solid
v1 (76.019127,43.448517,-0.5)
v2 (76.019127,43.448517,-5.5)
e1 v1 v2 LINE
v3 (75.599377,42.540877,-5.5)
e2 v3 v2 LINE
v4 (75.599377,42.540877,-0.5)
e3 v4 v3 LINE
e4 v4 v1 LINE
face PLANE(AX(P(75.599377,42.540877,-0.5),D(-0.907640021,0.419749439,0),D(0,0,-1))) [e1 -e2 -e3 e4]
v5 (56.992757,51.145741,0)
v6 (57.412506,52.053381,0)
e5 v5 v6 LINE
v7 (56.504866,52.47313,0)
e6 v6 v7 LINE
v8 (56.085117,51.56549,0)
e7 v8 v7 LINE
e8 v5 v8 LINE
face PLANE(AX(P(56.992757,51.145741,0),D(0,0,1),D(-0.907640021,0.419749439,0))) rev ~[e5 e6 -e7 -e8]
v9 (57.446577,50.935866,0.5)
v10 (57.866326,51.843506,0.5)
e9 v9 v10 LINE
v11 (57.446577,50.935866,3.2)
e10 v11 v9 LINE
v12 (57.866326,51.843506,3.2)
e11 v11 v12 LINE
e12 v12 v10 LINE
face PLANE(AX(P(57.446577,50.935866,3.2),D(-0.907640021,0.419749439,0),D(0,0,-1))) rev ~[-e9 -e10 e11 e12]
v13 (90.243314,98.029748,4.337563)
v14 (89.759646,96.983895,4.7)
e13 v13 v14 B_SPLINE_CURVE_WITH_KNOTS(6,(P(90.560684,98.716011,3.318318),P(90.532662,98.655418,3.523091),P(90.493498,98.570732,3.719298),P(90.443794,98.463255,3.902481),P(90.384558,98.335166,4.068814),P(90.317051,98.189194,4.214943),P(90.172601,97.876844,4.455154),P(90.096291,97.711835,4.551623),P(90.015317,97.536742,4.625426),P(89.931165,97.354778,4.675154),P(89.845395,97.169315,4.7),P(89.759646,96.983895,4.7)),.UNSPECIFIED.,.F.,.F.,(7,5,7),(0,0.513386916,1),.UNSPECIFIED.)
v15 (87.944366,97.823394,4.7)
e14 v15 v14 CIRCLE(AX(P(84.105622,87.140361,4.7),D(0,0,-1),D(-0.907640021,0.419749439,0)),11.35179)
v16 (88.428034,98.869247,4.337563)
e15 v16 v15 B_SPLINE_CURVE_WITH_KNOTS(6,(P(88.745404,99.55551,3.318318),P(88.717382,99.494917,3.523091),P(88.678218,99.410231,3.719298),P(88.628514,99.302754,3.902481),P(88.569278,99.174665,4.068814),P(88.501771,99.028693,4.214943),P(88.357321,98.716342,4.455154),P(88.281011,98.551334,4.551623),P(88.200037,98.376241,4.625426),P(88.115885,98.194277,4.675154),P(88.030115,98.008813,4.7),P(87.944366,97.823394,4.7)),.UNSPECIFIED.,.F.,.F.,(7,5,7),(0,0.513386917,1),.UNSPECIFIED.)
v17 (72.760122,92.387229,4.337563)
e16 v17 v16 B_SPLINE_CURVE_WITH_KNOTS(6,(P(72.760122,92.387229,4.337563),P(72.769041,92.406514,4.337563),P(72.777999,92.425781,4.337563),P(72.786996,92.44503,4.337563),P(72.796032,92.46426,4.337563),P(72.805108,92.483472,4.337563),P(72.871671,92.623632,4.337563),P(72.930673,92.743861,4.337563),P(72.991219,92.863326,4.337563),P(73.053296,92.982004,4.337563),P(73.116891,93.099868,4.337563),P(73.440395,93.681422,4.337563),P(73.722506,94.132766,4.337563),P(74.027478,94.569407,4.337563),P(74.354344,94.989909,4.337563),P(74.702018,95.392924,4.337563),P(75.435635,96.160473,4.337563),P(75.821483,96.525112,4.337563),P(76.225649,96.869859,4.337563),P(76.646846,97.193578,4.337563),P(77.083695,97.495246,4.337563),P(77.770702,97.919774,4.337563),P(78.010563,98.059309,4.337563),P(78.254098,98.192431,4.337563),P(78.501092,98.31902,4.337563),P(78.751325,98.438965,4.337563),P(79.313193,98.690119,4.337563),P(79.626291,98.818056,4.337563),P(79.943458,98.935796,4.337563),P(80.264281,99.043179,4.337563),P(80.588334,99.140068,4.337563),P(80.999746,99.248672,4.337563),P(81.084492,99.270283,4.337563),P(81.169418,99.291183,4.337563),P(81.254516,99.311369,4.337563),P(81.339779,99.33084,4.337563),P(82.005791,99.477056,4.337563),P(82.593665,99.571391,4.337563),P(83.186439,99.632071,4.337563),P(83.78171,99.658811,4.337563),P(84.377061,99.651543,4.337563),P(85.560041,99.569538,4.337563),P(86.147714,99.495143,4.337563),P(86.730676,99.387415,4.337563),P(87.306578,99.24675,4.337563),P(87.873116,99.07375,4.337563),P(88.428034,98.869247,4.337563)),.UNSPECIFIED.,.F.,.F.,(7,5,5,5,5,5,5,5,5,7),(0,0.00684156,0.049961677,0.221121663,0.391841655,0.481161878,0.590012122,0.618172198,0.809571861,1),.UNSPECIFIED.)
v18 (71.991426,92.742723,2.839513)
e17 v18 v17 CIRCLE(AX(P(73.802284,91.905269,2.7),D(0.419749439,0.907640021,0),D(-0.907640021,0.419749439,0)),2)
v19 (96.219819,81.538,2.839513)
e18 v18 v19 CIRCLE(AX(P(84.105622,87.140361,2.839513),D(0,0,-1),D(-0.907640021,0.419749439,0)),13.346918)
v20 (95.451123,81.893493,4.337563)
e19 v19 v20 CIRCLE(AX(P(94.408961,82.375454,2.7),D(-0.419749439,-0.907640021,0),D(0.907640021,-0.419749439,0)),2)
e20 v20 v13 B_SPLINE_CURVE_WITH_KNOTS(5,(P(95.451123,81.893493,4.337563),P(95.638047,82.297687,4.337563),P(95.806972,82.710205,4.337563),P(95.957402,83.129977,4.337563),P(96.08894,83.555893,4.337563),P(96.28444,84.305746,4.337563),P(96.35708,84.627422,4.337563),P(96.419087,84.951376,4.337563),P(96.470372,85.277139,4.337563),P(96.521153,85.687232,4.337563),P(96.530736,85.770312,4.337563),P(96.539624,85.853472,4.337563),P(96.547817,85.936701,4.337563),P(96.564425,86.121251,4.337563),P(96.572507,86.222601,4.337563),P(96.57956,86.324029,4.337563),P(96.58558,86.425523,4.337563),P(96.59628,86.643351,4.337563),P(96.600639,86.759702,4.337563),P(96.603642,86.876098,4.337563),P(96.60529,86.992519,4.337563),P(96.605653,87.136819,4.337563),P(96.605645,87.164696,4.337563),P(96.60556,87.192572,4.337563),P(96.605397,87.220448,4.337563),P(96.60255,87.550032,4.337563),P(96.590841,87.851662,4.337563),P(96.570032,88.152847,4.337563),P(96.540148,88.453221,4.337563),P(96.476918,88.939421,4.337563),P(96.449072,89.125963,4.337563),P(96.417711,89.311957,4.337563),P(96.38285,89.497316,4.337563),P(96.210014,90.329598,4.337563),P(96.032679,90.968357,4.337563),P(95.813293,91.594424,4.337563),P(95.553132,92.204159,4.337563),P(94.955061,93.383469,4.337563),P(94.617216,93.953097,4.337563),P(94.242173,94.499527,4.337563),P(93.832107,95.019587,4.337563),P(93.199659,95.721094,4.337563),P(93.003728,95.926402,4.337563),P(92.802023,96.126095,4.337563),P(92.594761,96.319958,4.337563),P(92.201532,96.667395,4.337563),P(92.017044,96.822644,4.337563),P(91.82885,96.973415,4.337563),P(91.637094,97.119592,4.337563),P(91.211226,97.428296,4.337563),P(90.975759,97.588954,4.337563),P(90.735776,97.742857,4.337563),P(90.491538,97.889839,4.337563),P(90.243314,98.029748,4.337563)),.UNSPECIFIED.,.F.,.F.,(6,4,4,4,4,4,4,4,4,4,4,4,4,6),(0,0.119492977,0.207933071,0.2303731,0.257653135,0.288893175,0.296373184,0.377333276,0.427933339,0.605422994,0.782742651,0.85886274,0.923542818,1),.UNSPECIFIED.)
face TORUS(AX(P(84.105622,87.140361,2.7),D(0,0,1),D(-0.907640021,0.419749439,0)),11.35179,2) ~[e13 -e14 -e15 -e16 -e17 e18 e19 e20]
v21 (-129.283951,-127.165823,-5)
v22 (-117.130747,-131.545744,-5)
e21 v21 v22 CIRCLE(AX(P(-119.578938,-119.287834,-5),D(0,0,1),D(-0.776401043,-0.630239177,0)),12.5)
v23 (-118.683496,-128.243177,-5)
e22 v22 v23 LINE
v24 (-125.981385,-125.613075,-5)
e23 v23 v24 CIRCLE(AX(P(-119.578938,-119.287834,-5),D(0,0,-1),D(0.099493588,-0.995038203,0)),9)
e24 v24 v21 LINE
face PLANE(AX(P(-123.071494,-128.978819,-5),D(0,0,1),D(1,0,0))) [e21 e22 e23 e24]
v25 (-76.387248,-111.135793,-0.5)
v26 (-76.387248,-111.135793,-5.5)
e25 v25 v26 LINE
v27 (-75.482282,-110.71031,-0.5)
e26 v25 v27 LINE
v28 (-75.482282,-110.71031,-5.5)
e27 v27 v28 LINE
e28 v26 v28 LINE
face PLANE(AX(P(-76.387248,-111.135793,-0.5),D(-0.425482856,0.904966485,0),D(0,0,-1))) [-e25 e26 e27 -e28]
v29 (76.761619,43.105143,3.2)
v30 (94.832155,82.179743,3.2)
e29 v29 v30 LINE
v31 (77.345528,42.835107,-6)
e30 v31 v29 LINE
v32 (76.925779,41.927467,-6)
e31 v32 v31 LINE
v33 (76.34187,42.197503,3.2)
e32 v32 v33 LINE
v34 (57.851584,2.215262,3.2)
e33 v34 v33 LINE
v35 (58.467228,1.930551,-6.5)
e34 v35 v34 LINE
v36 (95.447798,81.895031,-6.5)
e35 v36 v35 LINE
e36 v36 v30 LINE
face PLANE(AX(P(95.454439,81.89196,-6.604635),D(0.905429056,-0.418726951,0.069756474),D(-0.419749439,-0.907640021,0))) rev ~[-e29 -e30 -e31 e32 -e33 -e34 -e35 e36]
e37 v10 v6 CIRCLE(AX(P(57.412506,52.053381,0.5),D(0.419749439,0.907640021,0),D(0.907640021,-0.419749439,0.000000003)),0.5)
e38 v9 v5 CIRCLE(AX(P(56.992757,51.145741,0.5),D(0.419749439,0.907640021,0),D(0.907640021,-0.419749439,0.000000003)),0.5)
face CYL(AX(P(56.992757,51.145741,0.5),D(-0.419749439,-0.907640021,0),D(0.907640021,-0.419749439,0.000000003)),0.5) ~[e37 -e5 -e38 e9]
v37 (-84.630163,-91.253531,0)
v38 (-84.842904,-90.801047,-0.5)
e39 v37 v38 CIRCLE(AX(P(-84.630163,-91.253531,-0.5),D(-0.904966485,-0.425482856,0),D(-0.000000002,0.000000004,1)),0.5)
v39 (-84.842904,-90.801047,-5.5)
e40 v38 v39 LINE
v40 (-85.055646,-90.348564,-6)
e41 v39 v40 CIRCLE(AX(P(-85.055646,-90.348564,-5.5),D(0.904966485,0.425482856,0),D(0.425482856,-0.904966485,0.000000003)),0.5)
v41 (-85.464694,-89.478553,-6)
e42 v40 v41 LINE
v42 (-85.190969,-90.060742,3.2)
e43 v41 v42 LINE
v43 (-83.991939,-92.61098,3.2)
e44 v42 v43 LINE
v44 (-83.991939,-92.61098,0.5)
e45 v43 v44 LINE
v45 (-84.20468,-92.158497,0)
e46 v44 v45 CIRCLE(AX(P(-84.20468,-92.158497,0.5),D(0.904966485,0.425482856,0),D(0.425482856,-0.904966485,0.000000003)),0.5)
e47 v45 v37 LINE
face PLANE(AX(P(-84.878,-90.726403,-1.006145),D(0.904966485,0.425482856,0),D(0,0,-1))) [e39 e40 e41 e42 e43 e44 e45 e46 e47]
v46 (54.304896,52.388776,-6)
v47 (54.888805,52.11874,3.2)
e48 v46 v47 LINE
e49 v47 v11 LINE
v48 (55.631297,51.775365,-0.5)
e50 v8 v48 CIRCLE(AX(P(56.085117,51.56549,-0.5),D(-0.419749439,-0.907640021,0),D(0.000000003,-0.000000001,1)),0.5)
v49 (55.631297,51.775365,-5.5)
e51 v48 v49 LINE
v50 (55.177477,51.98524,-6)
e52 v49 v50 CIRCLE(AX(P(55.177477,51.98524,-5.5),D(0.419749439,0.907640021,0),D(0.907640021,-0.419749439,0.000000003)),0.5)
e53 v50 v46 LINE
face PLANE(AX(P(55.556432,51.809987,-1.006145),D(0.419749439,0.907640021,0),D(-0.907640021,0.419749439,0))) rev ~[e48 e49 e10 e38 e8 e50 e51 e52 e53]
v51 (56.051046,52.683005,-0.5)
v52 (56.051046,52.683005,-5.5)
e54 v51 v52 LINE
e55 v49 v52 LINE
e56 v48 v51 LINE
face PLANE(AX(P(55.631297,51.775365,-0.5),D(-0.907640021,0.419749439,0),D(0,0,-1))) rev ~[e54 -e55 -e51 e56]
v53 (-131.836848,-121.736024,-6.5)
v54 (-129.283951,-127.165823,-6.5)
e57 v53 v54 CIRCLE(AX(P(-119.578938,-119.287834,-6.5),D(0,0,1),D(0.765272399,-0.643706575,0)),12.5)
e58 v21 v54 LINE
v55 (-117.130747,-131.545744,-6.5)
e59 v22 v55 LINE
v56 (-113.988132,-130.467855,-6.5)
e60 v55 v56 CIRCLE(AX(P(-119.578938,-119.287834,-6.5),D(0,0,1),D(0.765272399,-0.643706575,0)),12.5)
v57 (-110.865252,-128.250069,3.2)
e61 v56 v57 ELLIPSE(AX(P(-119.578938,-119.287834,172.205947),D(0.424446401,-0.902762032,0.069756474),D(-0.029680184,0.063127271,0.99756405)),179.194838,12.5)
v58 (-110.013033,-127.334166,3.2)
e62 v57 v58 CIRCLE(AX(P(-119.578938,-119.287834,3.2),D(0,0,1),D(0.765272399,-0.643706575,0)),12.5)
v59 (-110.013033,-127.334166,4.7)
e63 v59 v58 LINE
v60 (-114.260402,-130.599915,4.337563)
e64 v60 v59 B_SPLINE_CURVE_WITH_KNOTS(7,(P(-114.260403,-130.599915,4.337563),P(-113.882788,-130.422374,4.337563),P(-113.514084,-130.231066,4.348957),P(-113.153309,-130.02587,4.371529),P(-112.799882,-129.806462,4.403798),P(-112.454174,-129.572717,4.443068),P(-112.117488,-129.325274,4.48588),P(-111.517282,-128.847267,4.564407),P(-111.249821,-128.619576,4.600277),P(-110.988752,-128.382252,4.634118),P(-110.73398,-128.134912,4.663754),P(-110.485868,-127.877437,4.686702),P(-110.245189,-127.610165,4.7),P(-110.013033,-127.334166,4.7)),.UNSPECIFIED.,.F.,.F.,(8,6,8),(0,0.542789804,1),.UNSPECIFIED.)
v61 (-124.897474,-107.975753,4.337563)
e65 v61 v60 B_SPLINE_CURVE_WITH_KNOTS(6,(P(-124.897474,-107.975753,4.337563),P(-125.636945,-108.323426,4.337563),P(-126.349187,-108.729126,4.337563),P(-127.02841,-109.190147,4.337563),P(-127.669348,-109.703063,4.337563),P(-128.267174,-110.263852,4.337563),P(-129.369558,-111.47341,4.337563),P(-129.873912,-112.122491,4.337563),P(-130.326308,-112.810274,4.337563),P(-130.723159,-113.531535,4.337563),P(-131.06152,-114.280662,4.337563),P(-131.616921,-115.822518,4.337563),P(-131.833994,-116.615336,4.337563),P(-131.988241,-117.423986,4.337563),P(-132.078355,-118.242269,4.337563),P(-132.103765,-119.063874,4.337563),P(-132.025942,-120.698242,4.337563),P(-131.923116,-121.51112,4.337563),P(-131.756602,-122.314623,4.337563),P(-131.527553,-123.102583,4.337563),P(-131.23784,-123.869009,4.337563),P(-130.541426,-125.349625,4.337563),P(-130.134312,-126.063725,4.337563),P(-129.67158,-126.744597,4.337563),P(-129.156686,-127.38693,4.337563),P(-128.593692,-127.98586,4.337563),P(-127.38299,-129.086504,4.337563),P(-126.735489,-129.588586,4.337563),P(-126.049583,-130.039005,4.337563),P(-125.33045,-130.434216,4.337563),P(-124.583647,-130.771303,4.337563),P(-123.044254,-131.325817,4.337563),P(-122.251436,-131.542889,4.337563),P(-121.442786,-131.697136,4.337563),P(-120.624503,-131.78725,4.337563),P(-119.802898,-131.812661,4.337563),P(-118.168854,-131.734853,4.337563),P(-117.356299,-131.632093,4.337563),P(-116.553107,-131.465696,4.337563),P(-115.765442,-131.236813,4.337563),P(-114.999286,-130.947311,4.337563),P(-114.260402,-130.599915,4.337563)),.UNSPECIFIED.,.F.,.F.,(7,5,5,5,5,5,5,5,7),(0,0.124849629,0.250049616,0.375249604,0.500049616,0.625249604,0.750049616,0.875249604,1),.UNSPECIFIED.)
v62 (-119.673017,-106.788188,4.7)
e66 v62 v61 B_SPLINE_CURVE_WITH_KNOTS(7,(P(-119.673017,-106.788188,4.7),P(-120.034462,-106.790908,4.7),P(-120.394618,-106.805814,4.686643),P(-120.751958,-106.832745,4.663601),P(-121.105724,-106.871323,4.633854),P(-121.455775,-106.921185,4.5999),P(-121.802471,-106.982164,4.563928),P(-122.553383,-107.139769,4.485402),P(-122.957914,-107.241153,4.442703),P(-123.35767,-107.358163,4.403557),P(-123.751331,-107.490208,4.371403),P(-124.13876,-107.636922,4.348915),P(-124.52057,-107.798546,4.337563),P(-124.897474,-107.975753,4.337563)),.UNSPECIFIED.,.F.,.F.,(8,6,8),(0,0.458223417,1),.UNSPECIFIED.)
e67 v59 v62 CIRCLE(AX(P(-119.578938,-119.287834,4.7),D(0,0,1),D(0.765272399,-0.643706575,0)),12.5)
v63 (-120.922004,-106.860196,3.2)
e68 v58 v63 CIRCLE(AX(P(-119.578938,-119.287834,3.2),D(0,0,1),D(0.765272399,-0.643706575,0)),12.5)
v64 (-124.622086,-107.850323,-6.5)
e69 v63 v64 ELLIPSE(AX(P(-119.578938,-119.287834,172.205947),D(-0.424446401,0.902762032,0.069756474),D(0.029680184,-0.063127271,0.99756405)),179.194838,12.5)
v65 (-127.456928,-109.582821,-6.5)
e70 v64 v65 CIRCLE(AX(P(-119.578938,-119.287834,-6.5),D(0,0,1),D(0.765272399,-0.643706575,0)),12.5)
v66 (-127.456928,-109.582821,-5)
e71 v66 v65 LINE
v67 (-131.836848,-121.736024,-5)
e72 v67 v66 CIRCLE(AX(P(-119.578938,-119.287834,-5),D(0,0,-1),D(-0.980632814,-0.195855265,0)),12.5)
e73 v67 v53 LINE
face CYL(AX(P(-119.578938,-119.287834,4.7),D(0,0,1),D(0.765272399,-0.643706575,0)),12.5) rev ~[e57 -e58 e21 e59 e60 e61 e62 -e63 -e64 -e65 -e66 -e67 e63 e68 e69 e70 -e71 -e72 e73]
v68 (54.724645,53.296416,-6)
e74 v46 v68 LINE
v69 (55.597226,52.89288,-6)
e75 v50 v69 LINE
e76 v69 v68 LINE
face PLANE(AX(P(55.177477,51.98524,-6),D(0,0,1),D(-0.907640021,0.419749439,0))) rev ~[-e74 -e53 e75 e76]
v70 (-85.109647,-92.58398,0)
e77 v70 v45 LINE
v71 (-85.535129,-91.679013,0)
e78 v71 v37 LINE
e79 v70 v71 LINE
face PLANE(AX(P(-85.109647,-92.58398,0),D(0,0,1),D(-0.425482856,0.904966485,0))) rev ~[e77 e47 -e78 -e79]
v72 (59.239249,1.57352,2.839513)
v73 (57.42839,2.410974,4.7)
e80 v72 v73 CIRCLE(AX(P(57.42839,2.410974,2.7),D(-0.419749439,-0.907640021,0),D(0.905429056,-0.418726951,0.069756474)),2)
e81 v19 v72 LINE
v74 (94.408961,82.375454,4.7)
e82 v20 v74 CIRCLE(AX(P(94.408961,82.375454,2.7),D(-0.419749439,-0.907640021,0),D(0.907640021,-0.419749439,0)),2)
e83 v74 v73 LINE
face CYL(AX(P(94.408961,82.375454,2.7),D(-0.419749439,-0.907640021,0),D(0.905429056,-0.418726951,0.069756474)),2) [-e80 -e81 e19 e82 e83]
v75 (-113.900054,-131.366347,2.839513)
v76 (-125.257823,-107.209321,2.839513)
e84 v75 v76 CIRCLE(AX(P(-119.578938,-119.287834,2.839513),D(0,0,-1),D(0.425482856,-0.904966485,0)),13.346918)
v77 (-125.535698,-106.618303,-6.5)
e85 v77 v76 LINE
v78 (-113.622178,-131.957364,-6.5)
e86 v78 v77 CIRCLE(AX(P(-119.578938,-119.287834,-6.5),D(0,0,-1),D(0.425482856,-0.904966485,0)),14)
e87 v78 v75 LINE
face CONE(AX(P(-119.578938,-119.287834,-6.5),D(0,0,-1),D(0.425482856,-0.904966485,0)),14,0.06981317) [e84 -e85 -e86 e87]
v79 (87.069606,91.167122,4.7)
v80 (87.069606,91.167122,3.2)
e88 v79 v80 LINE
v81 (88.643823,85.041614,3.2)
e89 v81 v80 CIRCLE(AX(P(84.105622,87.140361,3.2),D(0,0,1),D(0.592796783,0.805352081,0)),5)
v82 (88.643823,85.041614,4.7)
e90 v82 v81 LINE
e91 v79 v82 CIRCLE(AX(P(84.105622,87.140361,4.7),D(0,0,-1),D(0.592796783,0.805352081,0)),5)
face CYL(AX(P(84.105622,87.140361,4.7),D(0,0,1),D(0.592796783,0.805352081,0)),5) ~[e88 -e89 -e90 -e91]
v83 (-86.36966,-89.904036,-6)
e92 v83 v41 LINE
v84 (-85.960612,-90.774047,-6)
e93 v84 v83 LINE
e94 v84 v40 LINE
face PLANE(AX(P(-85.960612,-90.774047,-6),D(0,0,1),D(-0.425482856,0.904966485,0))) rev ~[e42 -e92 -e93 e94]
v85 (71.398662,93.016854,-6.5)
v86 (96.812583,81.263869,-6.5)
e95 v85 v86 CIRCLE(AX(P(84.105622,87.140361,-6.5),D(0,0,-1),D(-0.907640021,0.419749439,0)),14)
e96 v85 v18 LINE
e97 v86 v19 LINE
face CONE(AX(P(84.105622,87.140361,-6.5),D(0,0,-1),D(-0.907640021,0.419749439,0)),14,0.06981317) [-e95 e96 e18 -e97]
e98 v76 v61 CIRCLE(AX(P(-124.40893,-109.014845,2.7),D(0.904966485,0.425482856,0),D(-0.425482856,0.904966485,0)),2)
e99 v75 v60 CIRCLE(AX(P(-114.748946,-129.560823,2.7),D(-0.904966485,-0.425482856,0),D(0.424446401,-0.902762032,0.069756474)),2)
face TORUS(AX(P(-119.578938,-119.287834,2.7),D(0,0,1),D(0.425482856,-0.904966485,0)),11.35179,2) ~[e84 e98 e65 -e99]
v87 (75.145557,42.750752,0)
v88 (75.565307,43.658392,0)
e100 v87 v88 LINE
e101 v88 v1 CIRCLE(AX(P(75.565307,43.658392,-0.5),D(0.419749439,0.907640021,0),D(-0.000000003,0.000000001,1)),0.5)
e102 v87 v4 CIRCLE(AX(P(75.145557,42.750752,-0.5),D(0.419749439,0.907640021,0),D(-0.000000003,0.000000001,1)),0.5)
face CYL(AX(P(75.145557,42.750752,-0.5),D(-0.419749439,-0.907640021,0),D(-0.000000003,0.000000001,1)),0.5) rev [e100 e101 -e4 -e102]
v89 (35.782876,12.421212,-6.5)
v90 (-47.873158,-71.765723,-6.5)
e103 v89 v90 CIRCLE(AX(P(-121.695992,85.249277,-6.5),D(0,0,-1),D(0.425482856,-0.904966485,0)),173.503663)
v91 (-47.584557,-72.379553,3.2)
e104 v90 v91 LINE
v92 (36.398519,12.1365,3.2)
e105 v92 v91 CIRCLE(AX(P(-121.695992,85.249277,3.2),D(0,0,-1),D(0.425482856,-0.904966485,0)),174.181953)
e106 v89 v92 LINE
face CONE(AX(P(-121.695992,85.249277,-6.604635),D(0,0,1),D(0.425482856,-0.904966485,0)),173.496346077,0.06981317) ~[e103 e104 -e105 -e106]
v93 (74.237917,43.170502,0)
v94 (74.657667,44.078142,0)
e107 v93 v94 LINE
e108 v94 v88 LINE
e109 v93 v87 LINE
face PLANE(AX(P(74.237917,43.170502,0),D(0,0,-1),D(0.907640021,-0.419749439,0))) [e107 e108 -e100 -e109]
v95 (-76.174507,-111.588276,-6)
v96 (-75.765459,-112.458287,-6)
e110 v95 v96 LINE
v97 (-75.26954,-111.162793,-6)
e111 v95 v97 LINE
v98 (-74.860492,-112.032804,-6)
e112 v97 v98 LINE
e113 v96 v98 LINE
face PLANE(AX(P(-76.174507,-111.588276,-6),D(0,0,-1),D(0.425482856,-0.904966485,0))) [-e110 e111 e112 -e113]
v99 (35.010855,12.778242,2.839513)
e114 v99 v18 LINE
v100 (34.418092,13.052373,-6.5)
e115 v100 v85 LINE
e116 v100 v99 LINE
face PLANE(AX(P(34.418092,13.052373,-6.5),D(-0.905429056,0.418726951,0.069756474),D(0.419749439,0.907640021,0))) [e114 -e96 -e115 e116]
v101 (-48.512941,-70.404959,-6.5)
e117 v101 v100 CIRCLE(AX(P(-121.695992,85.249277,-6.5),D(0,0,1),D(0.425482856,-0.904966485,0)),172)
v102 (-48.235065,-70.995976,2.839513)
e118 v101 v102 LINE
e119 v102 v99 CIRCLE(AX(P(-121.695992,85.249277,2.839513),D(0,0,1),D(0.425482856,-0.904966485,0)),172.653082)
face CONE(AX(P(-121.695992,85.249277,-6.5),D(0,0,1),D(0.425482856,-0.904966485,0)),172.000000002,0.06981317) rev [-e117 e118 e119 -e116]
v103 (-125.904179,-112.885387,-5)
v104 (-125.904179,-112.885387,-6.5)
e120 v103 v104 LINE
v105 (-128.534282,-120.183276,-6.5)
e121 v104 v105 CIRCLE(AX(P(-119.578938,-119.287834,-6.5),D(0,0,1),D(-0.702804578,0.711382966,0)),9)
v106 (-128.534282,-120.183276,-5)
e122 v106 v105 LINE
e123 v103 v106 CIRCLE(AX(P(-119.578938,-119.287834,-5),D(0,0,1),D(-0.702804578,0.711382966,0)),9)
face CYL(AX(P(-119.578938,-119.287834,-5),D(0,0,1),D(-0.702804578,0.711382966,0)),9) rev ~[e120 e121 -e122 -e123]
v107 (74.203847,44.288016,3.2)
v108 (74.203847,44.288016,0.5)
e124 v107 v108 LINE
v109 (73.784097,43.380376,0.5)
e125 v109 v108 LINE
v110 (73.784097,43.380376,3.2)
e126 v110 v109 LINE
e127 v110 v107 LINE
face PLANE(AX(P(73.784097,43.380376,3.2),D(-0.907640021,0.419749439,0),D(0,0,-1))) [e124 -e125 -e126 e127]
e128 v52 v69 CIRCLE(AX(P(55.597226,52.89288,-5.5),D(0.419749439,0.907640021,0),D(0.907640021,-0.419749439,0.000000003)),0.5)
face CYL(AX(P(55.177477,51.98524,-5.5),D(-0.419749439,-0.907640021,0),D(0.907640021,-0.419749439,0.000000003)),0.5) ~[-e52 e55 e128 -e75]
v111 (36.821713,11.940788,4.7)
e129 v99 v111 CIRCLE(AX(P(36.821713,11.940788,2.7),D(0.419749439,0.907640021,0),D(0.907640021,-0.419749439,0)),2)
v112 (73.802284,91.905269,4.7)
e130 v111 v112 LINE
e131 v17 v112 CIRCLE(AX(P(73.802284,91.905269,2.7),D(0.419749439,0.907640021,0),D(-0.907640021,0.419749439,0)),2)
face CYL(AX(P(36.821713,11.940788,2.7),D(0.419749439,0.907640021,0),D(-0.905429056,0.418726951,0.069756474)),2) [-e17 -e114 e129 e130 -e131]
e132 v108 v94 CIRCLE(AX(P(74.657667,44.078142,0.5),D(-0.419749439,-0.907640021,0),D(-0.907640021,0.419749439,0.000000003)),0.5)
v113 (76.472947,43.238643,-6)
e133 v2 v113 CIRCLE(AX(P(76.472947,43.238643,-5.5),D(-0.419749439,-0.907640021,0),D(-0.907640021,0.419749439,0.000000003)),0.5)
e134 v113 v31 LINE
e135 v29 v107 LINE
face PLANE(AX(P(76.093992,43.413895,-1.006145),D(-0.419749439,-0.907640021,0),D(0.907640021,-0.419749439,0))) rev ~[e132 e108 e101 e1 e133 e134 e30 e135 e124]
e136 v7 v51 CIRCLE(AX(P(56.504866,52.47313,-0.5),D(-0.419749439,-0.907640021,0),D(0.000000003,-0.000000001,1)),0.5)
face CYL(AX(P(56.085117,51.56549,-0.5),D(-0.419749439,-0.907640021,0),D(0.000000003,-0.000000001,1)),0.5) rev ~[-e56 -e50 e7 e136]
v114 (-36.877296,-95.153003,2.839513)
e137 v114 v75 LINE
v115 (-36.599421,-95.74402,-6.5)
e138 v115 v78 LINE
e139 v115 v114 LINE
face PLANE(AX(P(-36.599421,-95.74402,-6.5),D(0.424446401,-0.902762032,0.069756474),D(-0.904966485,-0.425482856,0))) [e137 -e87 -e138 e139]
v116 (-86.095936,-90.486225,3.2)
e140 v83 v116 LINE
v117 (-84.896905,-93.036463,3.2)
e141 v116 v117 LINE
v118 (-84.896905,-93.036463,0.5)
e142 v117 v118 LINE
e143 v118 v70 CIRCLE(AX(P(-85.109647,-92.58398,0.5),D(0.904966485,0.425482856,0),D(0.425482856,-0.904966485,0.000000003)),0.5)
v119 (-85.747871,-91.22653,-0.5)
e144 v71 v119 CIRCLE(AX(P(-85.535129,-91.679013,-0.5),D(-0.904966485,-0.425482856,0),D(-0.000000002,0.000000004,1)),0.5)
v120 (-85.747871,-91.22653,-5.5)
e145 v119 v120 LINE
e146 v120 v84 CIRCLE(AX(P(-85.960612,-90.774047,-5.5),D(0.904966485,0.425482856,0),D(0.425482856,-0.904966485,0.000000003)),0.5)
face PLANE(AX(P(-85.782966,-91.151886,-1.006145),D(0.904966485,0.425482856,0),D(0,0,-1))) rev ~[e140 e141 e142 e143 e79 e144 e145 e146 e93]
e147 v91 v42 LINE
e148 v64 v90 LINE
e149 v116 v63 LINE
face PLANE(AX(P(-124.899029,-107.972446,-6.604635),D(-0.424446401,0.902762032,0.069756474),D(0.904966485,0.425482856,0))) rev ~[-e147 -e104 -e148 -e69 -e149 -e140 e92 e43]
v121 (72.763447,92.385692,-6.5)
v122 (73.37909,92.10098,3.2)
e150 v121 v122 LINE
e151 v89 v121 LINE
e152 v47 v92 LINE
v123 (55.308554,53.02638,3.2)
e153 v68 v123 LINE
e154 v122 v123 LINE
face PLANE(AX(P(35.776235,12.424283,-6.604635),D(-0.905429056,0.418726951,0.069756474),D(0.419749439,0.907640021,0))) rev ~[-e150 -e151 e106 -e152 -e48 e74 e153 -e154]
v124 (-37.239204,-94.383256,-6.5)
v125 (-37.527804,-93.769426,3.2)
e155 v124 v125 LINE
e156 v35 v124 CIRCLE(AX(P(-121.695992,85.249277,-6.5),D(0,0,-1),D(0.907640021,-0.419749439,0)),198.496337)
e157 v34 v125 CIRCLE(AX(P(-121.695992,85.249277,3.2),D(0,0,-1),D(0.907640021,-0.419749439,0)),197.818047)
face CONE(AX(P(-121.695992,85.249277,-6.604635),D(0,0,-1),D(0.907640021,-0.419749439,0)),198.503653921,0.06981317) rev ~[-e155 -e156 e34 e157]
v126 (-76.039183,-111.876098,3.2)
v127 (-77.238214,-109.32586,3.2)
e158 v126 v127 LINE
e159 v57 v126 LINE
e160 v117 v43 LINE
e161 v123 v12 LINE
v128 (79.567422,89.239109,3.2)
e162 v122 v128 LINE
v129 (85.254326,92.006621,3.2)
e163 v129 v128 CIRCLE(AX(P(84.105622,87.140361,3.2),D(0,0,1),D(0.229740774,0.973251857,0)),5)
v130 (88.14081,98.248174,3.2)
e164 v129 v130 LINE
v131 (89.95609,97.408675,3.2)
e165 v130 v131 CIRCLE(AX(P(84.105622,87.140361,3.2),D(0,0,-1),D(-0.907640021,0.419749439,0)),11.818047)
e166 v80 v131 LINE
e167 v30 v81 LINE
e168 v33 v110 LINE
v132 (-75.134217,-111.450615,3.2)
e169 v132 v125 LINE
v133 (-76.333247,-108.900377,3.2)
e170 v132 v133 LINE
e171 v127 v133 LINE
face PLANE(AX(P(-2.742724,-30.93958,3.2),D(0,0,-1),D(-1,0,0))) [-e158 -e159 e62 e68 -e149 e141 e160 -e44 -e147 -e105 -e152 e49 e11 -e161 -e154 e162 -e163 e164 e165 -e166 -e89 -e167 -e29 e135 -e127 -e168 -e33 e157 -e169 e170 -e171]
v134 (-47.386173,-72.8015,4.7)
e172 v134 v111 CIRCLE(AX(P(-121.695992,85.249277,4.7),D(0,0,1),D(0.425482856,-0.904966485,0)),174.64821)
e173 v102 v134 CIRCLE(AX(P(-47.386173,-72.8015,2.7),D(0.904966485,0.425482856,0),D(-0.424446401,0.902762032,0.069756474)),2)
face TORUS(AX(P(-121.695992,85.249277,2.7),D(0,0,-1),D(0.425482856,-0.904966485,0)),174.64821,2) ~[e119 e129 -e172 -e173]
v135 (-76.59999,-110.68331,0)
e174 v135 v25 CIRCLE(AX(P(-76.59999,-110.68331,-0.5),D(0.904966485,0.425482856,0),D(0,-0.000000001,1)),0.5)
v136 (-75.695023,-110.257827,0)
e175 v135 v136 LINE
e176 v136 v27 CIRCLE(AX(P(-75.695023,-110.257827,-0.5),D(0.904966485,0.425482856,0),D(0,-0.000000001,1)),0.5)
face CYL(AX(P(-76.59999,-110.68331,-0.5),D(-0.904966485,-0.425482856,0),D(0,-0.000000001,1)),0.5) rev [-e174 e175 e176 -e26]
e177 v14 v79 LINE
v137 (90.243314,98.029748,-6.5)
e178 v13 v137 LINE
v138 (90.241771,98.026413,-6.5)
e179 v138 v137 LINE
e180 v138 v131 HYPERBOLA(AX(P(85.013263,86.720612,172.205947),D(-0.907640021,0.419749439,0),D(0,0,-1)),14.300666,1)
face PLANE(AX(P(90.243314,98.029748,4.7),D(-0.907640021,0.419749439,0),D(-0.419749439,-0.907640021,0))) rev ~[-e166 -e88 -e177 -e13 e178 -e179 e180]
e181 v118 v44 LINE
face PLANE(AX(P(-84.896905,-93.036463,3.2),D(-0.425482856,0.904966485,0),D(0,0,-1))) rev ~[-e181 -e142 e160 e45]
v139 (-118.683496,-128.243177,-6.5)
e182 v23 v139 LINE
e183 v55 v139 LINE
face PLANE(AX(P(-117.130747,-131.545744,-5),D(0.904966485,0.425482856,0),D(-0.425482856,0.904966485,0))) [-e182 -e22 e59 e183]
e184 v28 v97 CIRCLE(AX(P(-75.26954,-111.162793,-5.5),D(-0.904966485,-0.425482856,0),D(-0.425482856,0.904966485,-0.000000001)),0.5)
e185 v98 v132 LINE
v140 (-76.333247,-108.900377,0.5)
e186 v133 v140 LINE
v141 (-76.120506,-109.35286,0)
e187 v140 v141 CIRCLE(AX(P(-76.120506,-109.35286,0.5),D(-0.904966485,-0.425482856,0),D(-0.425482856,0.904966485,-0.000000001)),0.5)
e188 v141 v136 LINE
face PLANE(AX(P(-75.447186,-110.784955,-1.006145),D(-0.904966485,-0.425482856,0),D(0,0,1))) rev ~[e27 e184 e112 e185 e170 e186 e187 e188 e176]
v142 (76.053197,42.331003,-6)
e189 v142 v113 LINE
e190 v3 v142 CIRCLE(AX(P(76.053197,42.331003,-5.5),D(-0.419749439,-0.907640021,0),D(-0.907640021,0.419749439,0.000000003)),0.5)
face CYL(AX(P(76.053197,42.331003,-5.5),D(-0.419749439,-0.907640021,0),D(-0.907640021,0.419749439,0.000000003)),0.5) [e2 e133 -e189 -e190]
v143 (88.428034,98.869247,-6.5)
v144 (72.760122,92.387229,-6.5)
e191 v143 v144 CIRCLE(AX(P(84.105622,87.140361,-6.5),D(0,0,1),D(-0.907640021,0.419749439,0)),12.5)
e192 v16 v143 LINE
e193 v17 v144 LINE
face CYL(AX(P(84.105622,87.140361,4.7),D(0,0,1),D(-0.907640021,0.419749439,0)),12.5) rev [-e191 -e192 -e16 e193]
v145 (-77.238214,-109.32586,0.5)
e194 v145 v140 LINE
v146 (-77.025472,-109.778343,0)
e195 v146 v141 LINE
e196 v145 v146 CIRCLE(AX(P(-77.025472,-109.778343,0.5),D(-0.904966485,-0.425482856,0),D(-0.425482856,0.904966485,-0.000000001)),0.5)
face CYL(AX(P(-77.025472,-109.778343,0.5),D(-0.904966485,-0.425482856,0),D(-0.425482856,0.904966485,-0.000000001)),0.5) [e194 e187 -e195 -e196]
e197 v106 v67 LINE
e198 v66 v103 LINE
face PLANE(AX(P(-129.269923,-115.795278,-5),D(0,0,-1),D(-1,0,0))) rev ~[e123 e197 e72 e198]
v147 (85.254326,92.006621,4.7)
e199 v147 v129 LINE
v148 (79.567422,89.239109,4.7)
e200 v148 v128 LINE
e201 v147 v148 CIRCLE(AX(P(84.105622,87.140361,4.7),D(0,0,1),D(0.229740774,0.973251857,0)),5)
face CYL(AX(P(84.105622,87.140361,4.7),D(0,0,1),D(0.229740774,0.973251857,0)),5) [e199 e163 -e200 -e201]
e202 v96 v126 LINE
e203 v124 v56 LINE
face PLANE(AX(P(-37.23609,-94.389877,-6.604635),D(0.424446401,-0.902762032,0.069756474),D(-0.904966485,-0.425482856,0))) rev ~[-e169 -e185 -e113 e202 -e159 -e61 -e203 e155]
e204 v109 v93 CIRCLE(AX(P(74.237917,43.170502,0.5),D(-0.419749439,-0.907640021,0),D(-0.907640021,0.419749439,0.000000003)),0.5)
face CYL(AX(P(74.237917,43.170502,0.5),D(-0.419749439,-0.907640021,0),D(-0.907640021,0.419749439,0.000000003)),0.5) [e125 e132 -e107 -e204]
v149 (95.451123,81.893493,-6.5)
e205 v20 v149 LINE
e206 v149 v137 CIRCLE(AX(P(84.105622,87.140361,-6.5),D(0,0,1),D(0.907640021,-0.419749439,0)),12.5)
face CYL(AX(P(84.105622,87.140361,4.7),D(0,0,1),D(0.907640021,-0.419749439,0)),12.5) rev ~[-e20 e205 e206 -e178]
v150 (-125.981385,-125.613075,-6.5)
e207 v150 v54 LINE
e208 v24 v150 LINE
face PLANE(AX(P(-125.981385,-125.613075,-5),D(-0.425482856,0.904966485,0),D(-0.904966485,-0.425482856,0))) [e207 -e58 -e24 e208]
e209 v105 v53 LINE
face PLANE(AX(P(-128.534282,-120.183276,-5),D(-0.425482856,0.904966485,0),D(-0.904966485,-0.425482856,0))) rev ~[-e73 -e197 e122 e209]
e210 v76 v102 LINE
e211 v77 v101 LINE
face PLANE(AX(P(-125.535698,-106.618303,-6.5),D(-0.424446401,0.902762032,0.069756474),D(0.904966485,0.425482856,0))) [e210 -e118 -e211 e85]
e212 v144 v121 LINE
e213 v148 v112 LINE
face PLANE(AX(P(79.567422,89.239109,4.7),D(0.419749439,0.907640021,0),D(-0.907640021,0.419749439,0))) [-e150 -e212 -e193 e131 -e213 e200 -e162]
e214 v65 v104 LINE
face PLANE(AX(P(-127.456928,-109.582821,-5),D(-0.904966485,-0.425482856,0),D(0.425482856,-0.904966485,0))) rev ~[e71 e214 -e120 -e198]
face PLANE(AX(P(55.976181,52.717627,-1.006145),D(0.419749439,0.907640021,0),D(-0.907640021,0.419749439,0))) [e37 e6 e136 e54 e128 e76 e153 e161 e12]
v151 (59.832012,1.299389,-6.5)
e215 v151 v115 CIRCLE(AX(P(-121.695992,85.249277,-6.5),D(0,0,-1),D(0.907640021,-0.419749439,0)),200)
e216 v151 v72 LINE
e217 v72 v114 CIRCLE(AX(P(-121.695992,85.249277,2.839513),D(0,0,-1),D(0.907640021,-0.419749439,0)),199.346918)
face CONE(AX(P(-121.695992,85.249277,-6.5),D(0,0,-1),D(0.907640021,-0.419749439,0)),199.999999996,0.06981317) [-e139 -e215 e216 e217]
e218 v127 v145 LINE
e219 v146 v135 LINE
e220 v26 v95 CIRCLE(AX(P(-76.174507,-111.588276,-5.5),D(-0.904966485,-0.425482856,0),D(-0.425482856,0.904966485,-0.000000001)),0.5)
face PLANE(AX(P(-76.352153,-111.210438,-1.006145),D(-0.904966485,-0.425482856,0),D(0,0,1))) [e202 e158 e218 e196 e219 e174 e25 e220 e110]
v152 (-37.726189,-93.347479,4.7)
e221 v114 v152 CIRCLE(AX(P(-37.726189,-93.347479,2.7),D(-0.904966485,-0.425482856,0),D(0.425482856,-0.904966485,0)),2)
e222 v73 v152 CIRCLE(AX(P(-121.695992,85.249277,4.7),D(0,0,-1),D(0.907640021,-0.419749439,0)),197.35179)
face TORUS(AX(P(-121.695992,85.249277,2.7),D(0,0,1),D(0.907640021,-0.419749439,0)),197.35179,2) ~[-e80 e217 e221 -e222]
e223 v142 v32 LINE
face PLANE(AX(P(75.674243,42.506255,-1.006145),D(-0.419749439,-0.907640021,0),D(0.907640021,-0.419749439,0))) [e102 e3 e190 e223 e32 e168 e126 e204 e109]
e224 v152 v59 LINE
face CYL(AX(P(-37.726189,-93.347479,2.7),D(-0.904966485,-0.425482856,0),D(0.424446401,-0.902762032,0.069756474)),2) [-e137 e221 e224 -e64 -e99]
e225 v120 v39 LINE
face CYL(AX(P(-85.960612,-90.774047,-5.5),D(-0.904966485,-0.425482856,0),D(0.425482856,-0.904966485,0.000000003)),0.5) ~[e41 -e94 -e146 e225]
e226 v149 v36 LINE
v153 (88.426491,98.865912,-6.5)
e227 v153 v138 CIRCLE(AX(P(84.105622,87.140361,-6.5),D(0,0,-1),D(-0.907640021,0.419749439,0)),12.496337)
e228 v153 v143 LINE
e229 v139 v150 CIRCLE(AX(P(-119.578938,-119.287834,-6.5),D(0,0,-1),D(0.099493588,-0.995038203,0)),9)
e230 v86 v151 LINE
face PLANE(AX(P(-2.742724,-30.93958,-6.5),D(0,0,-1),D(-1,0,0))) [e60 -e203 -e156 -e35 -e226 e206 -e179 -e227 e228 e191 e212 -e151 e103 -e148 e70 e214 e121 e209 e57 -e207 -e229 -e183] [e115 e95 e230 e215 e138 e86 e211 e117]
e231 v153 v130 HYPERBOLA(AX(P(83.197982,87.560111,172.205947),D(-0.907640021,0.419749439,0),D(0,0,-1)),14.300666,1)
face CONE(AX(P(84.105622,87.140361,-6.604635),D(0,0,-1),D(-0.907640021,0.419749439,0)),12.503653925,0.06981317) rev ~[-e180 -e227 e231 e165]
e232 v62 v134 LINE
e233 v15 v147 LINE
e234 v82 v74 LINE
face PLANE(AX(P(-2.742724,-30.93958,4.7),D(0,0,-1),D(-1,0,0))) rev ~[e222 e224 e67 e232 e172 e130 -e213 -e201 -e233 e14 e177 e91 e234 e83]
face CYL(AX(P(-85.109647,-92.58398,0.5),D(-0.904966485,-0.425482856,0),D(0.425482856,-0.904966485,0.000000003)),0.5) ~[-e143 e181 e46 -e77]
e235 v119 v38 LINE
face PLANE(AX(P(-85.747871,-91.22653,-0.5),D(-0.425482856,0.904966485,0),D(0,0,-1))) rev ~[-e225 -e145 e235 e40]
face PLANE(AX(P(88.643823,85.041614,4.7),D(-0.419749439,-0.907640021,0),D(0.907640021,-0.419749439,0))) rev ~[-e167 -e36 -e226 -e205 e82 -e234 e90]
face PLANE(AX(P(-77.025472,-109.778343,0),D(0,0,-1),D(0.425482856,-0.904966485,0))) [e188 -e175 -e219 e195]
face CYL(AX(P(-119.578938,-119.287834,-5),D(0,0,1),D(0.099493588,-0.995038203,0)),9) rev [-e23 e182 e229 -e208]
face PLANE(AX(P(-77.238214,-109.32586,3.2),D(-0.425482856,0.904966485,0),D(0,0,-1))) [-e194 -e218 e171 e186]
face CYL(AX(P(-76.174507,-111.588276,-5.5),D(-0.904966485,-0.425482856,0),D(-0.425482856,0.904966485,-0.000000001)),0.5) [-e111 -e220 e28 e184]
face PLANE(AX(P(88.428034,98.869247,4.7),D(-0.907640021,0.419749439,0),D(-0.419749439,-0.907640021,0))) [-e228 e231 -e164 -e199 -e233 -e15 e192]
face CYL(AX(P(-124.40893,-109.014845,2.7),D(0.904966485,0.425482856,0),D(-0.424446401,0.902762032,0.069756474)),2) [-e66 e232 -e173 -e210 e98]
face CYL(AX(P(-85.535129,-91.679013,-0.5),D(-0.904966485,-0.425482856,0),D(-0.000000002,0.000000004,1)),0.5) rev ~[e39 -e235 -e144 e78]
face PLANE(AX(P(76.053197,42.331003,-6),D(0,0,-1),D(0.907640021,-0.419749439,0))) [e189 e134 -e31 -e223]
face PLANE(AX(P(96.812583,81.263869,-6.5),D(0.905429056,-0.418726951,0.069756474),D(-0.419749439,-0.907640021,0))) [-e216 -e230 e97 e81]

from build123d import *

# Parameters (mm, degrees)
EXTRUSION2_DEPTH        = 11.2
EXTRUSION2_DRAFT        = -4
COQUE1_T                = -1.5
CONG_1_R                = 2
ESQUISSE4_R             = 12.5
ENL_V_MAT_EXTRU_1_DEPTH = 190.035497549
EXTRUSION3_START        = -1.5
EXTRUSION3_DEPTH        = 1.5
EXTRUSION4_DEPTH        = 1
EXTRUSION5_DEPTH        = 1


with BuildPart() as part:
    # Esquisse3 → Extrusion2 (with draft: the straight prism first)
    with BuildSketch(Plane(origin=(0, 0, -6.5), x_dir=(-1, 0, 0), z_dir=(0, 0, -1))):
        with BuildLine():
            Line((-34.418091678, 13.052373199), (-71.398662192, 93.016853596))
            ThreePointArc((-71.398662192, 93.016853596), (-89.98211464, 99.847321744), (-96.812582788, 81.263869296))
            Line((-96.812582788, 81.263869296), (-59.832012274, 1.299388899))
            ThreePointArc((-59.832012274, 1.299388899), (-20.171981407, -55.724047413), (36.599420799, -95.744020285))
            Line((36.599420799, -95.744020285), (113.622178214, -131.957364461))
            ThreePointArc((113.622178214, -131.957364461), (132.248468989, -125.244593651), (125.535698179, -106.618302875))
            Line((125.535698179, -106.618302875), (48.512940764, -70.4049587))
            ThreePointArc((48.512940764, -70.4049587), (-0.310465133, -35.987782029), (-34.418091678, 13.052373199))
        make_face()
    extrude(amount=-EXTRUSION2_DEPTH)
    # Extrusion2: the draft: its side faces are tilted about the plane it starts from
    extrusion2_sides = [part.faces().sort_by_distance(p)[0] for p in [
        (52.908376935, 53.034613397, -0.9),
        (89.98211464, 99.847321744, -0.9),
        (78.322297531, 41.281629097, -0.9),
        (20.171981407, -55.724047413, -0.9),
        (-75.110799506, -113.850692373, -0.9),
        (-132.248468989, -125.244593651, -0.9),
        (-87.024319472, -88.511630788, -0.9),
        (0.310465133, -35.987782029, -0.9),
    ]]
    draft(extrusion2_sides, Plane(origin=(0, 0, -6.5), x_dir=(-1, 0, 0), z_dir=(0, 0, -1)), EXTRUSION2_DRAFT)

    # Coque1
    coque1_openings = [part.faces().sort_by_distance(p)[0] for p in [
        (55.899933032, 51.651130998, -6.5),
    ]]
    offset(amount=COQUE1_T, openings=coque1_openings, kind=Kind.INTERSECTION)

    # Congé1
    cong_1_edges = [part.edges().sort_by_distance(p)[0] for p in [
        (89.653375151, 99.136475965, 4.7),
        (77.611451752, 41.610368587, 4.7),
        (19.616440402, -55.172009765, 4.7),
        (-75.444029294, -113.141940455, 4.7),
        (-131.539717071, -124.911363863, 4.7),
        (-86.691089684, -89.220382705, 4.7),
        (0.866006138, -36.539819677, 4.7),
        (53.619222714, 52.705873908, 4.7),
    ]]
    fillet(cong_1_edges, radius=CONG_1_R)

    # Esquisse4 → Enlèv. mat.-Extru.1 (cut, through all)
    with BuildSketch(Plane.XY.offset(4.7)):
        with Locations(Location((-119.578938197, -119.287833668, 0), (0, 0, 319.931231963))):
            Circle(ESQUISSE4_R)
        with BuildLine():
            Line((88.428033532, 98.869247275), (85.254326361, 92.00662073))
            ThreePointArc((85.254326361, 92.00662073), (81.917712078, 91.636253796), (79.567422384, 89.239108642))
            Line((79.567422384, 89.239108642), (72.760122224, 92.387229437))
            ThreePointArc((72.760122224, 92.387229437), (79.327015541, 98.690898906), (88.428033532, 98.869247275))
        make_face()
        with BuildLine():
            Line((90.243313574, 98.029748396), (87.069606403, 91.167121851))
            ThreePointArc((87.069606403, 91.167121851), (88.948261451, 88.384888621), (88.643822596, 85.041614249))
            Line((88.643822596, 85.041614249), (95.451122756, 81.893493455))
            ThreePointArc((95.451122756, 81.893493455), (96.001427458, 90.979609311), (90.243313574, 98.029748396))
        make_face()
    extrude(amount=-ENL_V_MAT_EXTRU_1_DEPTH, mode=Mode.SUBTRACT)

    # Esquisse5 → Extrusion3 (add)
    with BuildSketch(Plane(origin=(0, 0, -6.5), x_dir=(-1, 0, 0), z_dir=(0, 0, -1)).offset(EXTRUSION3_START)):
        with BuildLine():
            Line((127.456927912, -109.582820632), (125.904179404, -112.885386975))
            ThreePointArc((125.904179404, -112.885386975), (128.045865957, -116.236418537), (128.534282025, -120.183275965))
            Line((128.534282025, -120.183275965), (131.836848368, -121.736024473))
            ThreePointArc((131.836848368, -121.736024473), (131.338560086, -115.049757096), (127.456927912, -109.582820632))
        make_face()
        with BuildLine():
            Line((125.98138489, -125.613074876), (129.283951233, -127.165823384))
            ThreePointArc((129.283951233, -127.165823384), (123.817014768, -131.047455557), (117.130747392, -131.54574384))
            Line((117.130747392, -131.54574384), (118.6834959, -128.243177497))
            ThreePointArc((118.6834959, -128.243177497), (122.630353328, -127.754761428), (125.98138489, -125.613074876))
        make_face()
    extrude(amount=EXTRUSION3_DEPTH)

    # Esquisse6 → Extrusion4 (add)
    with BuildSketch(Plane(origin=(-86.746444122, -89.10264844, 2.839512947), x_dir=(0, 0, -1), z_dir=(0.9049664851912623, 0.42548285591851137, 0))):
        with BuildLine():
            Line((-0.360487053, -4.346917634), (2.339512947, -4.346917634))
            ThreePointArc((2.339512947, -4.346917634), (2.693066338, -4.200471025), (2.839512947, -3.846917634))
            Line((2.839512947, -3.846917634), (2.839512947, -2.846917634))
            ThreePointArc((2.839512947, -2.846917634), (2.985959557, -2.493364244), (3.339512947, -2.346917634))
            Line((3.339512947, -2.346917634), (8.339512947, -2.346917634))
            ThreePointArc((8.339512947, -2.346917634), (8.693066338, -2.200471025), (8.839512947, -1.846917634))
            Line((8.839512947, -1.846917634), (8.839512947, -0.885543888))
            Line((8.839512947, -0.885543888), (-0.360487053, -1.528870557))
            Line((-0.360487053, -1.528870557), (-0.360487053, -4.346917634))
        make_face()
        with BuildLine():
            Line((-0.360487053, -22.346917634), (2.339512947, -22.346917634))
            ThreePointArc((2.339512947, -22.346917634), (2.693066338, -22.493364244), (2.839512947, -22.846917634))
            Line((2.839512947, -22.846917634), (2.839512947, -23.846917634))
            ThreePointArc((2.839512947, -23.846917634), (2.985959557, -24.200471025), (3.339512947, -24.346917634))
            Line((3.339512947, -24.346917634), (8.339512947, -24.346917634))
            ThreePointArc((8.339512947, -24.346917634), (8.693066338, -24.493364244), (8.839512947, -24.846917634))
            Line((8.839512947, -24.846917634), (8.839512947, -25.808291381))
            Line((8.839512947, -25.808291381), (-0.360487053, -25.164964712))
            Line((-0.360487053, -25.164964712), (-0.360487053, -22.346917634))
        make_face()
    extrude(amount=EXTRUSION4_DEPTH)

    # Esquisse7 → Extrusion5 (add)
    with BuildSketch(Plane(origin=(52.908376935, 53.034613397, -6.5), x_dir=(-0.9076400212812858, 0.4197494392712243, 0), z_dir=(0.4197494392712243, 0.9076400212812858, 0))):
        with BuildLine():
            Line((-23, 9.7), (-23, 7))
            ThreePointArc((-23, 7), (-23.146446609, 6.646446609), (-23.5, 6.5))
            Line((-23.5, 6.5), (-24.5, 6.5))
            ThreePointArc((-24.5, 6.5), (-24.853553391, 6.353553391), (-25, 6))
            Line((-25, 6), (-25, 1))
            ThreePointArc((-25, 1), (-25.146446609, 0.646446609), (-25.5, 0.5))
            Line((-25.5, 0.5), (-26.461373747, 0.5))
            Line((-26.461373747, 0.5), (-25.818047077, 9.7))
            Line((-25.818047077, 9.7), (-23, 9.7))
        make_face()
        with BuildLine():
            Line((-5, 9.7), (-5, 7))
            ThreePointArc((-5, 7), (-4.853553391, 6.646446609), (-4.5, 6.5))
            Line((-4.5, 6.5), (-3.5, 6.5))
            ThreePointArc((-3.5, 6.5), (-3.146446609, 6.353553391), (-3, 6))
            Line((-3, 6), (-3, 1))
            ThreePointArc((-3, 1), (-2.853553391, 0.646446609), (-2.5, 0.5))
            Line((-2.5, 0.5), (-1.538626253, 0.5))
            Line((-1.538626253, 0.5), (-2.181952923, 9.7))
            Line((-2.181952923, 9.7), (-5, 9.7))
        make_face()
    extrude(amount=EXTRUSION5_DEPTH)


solid = part.part
